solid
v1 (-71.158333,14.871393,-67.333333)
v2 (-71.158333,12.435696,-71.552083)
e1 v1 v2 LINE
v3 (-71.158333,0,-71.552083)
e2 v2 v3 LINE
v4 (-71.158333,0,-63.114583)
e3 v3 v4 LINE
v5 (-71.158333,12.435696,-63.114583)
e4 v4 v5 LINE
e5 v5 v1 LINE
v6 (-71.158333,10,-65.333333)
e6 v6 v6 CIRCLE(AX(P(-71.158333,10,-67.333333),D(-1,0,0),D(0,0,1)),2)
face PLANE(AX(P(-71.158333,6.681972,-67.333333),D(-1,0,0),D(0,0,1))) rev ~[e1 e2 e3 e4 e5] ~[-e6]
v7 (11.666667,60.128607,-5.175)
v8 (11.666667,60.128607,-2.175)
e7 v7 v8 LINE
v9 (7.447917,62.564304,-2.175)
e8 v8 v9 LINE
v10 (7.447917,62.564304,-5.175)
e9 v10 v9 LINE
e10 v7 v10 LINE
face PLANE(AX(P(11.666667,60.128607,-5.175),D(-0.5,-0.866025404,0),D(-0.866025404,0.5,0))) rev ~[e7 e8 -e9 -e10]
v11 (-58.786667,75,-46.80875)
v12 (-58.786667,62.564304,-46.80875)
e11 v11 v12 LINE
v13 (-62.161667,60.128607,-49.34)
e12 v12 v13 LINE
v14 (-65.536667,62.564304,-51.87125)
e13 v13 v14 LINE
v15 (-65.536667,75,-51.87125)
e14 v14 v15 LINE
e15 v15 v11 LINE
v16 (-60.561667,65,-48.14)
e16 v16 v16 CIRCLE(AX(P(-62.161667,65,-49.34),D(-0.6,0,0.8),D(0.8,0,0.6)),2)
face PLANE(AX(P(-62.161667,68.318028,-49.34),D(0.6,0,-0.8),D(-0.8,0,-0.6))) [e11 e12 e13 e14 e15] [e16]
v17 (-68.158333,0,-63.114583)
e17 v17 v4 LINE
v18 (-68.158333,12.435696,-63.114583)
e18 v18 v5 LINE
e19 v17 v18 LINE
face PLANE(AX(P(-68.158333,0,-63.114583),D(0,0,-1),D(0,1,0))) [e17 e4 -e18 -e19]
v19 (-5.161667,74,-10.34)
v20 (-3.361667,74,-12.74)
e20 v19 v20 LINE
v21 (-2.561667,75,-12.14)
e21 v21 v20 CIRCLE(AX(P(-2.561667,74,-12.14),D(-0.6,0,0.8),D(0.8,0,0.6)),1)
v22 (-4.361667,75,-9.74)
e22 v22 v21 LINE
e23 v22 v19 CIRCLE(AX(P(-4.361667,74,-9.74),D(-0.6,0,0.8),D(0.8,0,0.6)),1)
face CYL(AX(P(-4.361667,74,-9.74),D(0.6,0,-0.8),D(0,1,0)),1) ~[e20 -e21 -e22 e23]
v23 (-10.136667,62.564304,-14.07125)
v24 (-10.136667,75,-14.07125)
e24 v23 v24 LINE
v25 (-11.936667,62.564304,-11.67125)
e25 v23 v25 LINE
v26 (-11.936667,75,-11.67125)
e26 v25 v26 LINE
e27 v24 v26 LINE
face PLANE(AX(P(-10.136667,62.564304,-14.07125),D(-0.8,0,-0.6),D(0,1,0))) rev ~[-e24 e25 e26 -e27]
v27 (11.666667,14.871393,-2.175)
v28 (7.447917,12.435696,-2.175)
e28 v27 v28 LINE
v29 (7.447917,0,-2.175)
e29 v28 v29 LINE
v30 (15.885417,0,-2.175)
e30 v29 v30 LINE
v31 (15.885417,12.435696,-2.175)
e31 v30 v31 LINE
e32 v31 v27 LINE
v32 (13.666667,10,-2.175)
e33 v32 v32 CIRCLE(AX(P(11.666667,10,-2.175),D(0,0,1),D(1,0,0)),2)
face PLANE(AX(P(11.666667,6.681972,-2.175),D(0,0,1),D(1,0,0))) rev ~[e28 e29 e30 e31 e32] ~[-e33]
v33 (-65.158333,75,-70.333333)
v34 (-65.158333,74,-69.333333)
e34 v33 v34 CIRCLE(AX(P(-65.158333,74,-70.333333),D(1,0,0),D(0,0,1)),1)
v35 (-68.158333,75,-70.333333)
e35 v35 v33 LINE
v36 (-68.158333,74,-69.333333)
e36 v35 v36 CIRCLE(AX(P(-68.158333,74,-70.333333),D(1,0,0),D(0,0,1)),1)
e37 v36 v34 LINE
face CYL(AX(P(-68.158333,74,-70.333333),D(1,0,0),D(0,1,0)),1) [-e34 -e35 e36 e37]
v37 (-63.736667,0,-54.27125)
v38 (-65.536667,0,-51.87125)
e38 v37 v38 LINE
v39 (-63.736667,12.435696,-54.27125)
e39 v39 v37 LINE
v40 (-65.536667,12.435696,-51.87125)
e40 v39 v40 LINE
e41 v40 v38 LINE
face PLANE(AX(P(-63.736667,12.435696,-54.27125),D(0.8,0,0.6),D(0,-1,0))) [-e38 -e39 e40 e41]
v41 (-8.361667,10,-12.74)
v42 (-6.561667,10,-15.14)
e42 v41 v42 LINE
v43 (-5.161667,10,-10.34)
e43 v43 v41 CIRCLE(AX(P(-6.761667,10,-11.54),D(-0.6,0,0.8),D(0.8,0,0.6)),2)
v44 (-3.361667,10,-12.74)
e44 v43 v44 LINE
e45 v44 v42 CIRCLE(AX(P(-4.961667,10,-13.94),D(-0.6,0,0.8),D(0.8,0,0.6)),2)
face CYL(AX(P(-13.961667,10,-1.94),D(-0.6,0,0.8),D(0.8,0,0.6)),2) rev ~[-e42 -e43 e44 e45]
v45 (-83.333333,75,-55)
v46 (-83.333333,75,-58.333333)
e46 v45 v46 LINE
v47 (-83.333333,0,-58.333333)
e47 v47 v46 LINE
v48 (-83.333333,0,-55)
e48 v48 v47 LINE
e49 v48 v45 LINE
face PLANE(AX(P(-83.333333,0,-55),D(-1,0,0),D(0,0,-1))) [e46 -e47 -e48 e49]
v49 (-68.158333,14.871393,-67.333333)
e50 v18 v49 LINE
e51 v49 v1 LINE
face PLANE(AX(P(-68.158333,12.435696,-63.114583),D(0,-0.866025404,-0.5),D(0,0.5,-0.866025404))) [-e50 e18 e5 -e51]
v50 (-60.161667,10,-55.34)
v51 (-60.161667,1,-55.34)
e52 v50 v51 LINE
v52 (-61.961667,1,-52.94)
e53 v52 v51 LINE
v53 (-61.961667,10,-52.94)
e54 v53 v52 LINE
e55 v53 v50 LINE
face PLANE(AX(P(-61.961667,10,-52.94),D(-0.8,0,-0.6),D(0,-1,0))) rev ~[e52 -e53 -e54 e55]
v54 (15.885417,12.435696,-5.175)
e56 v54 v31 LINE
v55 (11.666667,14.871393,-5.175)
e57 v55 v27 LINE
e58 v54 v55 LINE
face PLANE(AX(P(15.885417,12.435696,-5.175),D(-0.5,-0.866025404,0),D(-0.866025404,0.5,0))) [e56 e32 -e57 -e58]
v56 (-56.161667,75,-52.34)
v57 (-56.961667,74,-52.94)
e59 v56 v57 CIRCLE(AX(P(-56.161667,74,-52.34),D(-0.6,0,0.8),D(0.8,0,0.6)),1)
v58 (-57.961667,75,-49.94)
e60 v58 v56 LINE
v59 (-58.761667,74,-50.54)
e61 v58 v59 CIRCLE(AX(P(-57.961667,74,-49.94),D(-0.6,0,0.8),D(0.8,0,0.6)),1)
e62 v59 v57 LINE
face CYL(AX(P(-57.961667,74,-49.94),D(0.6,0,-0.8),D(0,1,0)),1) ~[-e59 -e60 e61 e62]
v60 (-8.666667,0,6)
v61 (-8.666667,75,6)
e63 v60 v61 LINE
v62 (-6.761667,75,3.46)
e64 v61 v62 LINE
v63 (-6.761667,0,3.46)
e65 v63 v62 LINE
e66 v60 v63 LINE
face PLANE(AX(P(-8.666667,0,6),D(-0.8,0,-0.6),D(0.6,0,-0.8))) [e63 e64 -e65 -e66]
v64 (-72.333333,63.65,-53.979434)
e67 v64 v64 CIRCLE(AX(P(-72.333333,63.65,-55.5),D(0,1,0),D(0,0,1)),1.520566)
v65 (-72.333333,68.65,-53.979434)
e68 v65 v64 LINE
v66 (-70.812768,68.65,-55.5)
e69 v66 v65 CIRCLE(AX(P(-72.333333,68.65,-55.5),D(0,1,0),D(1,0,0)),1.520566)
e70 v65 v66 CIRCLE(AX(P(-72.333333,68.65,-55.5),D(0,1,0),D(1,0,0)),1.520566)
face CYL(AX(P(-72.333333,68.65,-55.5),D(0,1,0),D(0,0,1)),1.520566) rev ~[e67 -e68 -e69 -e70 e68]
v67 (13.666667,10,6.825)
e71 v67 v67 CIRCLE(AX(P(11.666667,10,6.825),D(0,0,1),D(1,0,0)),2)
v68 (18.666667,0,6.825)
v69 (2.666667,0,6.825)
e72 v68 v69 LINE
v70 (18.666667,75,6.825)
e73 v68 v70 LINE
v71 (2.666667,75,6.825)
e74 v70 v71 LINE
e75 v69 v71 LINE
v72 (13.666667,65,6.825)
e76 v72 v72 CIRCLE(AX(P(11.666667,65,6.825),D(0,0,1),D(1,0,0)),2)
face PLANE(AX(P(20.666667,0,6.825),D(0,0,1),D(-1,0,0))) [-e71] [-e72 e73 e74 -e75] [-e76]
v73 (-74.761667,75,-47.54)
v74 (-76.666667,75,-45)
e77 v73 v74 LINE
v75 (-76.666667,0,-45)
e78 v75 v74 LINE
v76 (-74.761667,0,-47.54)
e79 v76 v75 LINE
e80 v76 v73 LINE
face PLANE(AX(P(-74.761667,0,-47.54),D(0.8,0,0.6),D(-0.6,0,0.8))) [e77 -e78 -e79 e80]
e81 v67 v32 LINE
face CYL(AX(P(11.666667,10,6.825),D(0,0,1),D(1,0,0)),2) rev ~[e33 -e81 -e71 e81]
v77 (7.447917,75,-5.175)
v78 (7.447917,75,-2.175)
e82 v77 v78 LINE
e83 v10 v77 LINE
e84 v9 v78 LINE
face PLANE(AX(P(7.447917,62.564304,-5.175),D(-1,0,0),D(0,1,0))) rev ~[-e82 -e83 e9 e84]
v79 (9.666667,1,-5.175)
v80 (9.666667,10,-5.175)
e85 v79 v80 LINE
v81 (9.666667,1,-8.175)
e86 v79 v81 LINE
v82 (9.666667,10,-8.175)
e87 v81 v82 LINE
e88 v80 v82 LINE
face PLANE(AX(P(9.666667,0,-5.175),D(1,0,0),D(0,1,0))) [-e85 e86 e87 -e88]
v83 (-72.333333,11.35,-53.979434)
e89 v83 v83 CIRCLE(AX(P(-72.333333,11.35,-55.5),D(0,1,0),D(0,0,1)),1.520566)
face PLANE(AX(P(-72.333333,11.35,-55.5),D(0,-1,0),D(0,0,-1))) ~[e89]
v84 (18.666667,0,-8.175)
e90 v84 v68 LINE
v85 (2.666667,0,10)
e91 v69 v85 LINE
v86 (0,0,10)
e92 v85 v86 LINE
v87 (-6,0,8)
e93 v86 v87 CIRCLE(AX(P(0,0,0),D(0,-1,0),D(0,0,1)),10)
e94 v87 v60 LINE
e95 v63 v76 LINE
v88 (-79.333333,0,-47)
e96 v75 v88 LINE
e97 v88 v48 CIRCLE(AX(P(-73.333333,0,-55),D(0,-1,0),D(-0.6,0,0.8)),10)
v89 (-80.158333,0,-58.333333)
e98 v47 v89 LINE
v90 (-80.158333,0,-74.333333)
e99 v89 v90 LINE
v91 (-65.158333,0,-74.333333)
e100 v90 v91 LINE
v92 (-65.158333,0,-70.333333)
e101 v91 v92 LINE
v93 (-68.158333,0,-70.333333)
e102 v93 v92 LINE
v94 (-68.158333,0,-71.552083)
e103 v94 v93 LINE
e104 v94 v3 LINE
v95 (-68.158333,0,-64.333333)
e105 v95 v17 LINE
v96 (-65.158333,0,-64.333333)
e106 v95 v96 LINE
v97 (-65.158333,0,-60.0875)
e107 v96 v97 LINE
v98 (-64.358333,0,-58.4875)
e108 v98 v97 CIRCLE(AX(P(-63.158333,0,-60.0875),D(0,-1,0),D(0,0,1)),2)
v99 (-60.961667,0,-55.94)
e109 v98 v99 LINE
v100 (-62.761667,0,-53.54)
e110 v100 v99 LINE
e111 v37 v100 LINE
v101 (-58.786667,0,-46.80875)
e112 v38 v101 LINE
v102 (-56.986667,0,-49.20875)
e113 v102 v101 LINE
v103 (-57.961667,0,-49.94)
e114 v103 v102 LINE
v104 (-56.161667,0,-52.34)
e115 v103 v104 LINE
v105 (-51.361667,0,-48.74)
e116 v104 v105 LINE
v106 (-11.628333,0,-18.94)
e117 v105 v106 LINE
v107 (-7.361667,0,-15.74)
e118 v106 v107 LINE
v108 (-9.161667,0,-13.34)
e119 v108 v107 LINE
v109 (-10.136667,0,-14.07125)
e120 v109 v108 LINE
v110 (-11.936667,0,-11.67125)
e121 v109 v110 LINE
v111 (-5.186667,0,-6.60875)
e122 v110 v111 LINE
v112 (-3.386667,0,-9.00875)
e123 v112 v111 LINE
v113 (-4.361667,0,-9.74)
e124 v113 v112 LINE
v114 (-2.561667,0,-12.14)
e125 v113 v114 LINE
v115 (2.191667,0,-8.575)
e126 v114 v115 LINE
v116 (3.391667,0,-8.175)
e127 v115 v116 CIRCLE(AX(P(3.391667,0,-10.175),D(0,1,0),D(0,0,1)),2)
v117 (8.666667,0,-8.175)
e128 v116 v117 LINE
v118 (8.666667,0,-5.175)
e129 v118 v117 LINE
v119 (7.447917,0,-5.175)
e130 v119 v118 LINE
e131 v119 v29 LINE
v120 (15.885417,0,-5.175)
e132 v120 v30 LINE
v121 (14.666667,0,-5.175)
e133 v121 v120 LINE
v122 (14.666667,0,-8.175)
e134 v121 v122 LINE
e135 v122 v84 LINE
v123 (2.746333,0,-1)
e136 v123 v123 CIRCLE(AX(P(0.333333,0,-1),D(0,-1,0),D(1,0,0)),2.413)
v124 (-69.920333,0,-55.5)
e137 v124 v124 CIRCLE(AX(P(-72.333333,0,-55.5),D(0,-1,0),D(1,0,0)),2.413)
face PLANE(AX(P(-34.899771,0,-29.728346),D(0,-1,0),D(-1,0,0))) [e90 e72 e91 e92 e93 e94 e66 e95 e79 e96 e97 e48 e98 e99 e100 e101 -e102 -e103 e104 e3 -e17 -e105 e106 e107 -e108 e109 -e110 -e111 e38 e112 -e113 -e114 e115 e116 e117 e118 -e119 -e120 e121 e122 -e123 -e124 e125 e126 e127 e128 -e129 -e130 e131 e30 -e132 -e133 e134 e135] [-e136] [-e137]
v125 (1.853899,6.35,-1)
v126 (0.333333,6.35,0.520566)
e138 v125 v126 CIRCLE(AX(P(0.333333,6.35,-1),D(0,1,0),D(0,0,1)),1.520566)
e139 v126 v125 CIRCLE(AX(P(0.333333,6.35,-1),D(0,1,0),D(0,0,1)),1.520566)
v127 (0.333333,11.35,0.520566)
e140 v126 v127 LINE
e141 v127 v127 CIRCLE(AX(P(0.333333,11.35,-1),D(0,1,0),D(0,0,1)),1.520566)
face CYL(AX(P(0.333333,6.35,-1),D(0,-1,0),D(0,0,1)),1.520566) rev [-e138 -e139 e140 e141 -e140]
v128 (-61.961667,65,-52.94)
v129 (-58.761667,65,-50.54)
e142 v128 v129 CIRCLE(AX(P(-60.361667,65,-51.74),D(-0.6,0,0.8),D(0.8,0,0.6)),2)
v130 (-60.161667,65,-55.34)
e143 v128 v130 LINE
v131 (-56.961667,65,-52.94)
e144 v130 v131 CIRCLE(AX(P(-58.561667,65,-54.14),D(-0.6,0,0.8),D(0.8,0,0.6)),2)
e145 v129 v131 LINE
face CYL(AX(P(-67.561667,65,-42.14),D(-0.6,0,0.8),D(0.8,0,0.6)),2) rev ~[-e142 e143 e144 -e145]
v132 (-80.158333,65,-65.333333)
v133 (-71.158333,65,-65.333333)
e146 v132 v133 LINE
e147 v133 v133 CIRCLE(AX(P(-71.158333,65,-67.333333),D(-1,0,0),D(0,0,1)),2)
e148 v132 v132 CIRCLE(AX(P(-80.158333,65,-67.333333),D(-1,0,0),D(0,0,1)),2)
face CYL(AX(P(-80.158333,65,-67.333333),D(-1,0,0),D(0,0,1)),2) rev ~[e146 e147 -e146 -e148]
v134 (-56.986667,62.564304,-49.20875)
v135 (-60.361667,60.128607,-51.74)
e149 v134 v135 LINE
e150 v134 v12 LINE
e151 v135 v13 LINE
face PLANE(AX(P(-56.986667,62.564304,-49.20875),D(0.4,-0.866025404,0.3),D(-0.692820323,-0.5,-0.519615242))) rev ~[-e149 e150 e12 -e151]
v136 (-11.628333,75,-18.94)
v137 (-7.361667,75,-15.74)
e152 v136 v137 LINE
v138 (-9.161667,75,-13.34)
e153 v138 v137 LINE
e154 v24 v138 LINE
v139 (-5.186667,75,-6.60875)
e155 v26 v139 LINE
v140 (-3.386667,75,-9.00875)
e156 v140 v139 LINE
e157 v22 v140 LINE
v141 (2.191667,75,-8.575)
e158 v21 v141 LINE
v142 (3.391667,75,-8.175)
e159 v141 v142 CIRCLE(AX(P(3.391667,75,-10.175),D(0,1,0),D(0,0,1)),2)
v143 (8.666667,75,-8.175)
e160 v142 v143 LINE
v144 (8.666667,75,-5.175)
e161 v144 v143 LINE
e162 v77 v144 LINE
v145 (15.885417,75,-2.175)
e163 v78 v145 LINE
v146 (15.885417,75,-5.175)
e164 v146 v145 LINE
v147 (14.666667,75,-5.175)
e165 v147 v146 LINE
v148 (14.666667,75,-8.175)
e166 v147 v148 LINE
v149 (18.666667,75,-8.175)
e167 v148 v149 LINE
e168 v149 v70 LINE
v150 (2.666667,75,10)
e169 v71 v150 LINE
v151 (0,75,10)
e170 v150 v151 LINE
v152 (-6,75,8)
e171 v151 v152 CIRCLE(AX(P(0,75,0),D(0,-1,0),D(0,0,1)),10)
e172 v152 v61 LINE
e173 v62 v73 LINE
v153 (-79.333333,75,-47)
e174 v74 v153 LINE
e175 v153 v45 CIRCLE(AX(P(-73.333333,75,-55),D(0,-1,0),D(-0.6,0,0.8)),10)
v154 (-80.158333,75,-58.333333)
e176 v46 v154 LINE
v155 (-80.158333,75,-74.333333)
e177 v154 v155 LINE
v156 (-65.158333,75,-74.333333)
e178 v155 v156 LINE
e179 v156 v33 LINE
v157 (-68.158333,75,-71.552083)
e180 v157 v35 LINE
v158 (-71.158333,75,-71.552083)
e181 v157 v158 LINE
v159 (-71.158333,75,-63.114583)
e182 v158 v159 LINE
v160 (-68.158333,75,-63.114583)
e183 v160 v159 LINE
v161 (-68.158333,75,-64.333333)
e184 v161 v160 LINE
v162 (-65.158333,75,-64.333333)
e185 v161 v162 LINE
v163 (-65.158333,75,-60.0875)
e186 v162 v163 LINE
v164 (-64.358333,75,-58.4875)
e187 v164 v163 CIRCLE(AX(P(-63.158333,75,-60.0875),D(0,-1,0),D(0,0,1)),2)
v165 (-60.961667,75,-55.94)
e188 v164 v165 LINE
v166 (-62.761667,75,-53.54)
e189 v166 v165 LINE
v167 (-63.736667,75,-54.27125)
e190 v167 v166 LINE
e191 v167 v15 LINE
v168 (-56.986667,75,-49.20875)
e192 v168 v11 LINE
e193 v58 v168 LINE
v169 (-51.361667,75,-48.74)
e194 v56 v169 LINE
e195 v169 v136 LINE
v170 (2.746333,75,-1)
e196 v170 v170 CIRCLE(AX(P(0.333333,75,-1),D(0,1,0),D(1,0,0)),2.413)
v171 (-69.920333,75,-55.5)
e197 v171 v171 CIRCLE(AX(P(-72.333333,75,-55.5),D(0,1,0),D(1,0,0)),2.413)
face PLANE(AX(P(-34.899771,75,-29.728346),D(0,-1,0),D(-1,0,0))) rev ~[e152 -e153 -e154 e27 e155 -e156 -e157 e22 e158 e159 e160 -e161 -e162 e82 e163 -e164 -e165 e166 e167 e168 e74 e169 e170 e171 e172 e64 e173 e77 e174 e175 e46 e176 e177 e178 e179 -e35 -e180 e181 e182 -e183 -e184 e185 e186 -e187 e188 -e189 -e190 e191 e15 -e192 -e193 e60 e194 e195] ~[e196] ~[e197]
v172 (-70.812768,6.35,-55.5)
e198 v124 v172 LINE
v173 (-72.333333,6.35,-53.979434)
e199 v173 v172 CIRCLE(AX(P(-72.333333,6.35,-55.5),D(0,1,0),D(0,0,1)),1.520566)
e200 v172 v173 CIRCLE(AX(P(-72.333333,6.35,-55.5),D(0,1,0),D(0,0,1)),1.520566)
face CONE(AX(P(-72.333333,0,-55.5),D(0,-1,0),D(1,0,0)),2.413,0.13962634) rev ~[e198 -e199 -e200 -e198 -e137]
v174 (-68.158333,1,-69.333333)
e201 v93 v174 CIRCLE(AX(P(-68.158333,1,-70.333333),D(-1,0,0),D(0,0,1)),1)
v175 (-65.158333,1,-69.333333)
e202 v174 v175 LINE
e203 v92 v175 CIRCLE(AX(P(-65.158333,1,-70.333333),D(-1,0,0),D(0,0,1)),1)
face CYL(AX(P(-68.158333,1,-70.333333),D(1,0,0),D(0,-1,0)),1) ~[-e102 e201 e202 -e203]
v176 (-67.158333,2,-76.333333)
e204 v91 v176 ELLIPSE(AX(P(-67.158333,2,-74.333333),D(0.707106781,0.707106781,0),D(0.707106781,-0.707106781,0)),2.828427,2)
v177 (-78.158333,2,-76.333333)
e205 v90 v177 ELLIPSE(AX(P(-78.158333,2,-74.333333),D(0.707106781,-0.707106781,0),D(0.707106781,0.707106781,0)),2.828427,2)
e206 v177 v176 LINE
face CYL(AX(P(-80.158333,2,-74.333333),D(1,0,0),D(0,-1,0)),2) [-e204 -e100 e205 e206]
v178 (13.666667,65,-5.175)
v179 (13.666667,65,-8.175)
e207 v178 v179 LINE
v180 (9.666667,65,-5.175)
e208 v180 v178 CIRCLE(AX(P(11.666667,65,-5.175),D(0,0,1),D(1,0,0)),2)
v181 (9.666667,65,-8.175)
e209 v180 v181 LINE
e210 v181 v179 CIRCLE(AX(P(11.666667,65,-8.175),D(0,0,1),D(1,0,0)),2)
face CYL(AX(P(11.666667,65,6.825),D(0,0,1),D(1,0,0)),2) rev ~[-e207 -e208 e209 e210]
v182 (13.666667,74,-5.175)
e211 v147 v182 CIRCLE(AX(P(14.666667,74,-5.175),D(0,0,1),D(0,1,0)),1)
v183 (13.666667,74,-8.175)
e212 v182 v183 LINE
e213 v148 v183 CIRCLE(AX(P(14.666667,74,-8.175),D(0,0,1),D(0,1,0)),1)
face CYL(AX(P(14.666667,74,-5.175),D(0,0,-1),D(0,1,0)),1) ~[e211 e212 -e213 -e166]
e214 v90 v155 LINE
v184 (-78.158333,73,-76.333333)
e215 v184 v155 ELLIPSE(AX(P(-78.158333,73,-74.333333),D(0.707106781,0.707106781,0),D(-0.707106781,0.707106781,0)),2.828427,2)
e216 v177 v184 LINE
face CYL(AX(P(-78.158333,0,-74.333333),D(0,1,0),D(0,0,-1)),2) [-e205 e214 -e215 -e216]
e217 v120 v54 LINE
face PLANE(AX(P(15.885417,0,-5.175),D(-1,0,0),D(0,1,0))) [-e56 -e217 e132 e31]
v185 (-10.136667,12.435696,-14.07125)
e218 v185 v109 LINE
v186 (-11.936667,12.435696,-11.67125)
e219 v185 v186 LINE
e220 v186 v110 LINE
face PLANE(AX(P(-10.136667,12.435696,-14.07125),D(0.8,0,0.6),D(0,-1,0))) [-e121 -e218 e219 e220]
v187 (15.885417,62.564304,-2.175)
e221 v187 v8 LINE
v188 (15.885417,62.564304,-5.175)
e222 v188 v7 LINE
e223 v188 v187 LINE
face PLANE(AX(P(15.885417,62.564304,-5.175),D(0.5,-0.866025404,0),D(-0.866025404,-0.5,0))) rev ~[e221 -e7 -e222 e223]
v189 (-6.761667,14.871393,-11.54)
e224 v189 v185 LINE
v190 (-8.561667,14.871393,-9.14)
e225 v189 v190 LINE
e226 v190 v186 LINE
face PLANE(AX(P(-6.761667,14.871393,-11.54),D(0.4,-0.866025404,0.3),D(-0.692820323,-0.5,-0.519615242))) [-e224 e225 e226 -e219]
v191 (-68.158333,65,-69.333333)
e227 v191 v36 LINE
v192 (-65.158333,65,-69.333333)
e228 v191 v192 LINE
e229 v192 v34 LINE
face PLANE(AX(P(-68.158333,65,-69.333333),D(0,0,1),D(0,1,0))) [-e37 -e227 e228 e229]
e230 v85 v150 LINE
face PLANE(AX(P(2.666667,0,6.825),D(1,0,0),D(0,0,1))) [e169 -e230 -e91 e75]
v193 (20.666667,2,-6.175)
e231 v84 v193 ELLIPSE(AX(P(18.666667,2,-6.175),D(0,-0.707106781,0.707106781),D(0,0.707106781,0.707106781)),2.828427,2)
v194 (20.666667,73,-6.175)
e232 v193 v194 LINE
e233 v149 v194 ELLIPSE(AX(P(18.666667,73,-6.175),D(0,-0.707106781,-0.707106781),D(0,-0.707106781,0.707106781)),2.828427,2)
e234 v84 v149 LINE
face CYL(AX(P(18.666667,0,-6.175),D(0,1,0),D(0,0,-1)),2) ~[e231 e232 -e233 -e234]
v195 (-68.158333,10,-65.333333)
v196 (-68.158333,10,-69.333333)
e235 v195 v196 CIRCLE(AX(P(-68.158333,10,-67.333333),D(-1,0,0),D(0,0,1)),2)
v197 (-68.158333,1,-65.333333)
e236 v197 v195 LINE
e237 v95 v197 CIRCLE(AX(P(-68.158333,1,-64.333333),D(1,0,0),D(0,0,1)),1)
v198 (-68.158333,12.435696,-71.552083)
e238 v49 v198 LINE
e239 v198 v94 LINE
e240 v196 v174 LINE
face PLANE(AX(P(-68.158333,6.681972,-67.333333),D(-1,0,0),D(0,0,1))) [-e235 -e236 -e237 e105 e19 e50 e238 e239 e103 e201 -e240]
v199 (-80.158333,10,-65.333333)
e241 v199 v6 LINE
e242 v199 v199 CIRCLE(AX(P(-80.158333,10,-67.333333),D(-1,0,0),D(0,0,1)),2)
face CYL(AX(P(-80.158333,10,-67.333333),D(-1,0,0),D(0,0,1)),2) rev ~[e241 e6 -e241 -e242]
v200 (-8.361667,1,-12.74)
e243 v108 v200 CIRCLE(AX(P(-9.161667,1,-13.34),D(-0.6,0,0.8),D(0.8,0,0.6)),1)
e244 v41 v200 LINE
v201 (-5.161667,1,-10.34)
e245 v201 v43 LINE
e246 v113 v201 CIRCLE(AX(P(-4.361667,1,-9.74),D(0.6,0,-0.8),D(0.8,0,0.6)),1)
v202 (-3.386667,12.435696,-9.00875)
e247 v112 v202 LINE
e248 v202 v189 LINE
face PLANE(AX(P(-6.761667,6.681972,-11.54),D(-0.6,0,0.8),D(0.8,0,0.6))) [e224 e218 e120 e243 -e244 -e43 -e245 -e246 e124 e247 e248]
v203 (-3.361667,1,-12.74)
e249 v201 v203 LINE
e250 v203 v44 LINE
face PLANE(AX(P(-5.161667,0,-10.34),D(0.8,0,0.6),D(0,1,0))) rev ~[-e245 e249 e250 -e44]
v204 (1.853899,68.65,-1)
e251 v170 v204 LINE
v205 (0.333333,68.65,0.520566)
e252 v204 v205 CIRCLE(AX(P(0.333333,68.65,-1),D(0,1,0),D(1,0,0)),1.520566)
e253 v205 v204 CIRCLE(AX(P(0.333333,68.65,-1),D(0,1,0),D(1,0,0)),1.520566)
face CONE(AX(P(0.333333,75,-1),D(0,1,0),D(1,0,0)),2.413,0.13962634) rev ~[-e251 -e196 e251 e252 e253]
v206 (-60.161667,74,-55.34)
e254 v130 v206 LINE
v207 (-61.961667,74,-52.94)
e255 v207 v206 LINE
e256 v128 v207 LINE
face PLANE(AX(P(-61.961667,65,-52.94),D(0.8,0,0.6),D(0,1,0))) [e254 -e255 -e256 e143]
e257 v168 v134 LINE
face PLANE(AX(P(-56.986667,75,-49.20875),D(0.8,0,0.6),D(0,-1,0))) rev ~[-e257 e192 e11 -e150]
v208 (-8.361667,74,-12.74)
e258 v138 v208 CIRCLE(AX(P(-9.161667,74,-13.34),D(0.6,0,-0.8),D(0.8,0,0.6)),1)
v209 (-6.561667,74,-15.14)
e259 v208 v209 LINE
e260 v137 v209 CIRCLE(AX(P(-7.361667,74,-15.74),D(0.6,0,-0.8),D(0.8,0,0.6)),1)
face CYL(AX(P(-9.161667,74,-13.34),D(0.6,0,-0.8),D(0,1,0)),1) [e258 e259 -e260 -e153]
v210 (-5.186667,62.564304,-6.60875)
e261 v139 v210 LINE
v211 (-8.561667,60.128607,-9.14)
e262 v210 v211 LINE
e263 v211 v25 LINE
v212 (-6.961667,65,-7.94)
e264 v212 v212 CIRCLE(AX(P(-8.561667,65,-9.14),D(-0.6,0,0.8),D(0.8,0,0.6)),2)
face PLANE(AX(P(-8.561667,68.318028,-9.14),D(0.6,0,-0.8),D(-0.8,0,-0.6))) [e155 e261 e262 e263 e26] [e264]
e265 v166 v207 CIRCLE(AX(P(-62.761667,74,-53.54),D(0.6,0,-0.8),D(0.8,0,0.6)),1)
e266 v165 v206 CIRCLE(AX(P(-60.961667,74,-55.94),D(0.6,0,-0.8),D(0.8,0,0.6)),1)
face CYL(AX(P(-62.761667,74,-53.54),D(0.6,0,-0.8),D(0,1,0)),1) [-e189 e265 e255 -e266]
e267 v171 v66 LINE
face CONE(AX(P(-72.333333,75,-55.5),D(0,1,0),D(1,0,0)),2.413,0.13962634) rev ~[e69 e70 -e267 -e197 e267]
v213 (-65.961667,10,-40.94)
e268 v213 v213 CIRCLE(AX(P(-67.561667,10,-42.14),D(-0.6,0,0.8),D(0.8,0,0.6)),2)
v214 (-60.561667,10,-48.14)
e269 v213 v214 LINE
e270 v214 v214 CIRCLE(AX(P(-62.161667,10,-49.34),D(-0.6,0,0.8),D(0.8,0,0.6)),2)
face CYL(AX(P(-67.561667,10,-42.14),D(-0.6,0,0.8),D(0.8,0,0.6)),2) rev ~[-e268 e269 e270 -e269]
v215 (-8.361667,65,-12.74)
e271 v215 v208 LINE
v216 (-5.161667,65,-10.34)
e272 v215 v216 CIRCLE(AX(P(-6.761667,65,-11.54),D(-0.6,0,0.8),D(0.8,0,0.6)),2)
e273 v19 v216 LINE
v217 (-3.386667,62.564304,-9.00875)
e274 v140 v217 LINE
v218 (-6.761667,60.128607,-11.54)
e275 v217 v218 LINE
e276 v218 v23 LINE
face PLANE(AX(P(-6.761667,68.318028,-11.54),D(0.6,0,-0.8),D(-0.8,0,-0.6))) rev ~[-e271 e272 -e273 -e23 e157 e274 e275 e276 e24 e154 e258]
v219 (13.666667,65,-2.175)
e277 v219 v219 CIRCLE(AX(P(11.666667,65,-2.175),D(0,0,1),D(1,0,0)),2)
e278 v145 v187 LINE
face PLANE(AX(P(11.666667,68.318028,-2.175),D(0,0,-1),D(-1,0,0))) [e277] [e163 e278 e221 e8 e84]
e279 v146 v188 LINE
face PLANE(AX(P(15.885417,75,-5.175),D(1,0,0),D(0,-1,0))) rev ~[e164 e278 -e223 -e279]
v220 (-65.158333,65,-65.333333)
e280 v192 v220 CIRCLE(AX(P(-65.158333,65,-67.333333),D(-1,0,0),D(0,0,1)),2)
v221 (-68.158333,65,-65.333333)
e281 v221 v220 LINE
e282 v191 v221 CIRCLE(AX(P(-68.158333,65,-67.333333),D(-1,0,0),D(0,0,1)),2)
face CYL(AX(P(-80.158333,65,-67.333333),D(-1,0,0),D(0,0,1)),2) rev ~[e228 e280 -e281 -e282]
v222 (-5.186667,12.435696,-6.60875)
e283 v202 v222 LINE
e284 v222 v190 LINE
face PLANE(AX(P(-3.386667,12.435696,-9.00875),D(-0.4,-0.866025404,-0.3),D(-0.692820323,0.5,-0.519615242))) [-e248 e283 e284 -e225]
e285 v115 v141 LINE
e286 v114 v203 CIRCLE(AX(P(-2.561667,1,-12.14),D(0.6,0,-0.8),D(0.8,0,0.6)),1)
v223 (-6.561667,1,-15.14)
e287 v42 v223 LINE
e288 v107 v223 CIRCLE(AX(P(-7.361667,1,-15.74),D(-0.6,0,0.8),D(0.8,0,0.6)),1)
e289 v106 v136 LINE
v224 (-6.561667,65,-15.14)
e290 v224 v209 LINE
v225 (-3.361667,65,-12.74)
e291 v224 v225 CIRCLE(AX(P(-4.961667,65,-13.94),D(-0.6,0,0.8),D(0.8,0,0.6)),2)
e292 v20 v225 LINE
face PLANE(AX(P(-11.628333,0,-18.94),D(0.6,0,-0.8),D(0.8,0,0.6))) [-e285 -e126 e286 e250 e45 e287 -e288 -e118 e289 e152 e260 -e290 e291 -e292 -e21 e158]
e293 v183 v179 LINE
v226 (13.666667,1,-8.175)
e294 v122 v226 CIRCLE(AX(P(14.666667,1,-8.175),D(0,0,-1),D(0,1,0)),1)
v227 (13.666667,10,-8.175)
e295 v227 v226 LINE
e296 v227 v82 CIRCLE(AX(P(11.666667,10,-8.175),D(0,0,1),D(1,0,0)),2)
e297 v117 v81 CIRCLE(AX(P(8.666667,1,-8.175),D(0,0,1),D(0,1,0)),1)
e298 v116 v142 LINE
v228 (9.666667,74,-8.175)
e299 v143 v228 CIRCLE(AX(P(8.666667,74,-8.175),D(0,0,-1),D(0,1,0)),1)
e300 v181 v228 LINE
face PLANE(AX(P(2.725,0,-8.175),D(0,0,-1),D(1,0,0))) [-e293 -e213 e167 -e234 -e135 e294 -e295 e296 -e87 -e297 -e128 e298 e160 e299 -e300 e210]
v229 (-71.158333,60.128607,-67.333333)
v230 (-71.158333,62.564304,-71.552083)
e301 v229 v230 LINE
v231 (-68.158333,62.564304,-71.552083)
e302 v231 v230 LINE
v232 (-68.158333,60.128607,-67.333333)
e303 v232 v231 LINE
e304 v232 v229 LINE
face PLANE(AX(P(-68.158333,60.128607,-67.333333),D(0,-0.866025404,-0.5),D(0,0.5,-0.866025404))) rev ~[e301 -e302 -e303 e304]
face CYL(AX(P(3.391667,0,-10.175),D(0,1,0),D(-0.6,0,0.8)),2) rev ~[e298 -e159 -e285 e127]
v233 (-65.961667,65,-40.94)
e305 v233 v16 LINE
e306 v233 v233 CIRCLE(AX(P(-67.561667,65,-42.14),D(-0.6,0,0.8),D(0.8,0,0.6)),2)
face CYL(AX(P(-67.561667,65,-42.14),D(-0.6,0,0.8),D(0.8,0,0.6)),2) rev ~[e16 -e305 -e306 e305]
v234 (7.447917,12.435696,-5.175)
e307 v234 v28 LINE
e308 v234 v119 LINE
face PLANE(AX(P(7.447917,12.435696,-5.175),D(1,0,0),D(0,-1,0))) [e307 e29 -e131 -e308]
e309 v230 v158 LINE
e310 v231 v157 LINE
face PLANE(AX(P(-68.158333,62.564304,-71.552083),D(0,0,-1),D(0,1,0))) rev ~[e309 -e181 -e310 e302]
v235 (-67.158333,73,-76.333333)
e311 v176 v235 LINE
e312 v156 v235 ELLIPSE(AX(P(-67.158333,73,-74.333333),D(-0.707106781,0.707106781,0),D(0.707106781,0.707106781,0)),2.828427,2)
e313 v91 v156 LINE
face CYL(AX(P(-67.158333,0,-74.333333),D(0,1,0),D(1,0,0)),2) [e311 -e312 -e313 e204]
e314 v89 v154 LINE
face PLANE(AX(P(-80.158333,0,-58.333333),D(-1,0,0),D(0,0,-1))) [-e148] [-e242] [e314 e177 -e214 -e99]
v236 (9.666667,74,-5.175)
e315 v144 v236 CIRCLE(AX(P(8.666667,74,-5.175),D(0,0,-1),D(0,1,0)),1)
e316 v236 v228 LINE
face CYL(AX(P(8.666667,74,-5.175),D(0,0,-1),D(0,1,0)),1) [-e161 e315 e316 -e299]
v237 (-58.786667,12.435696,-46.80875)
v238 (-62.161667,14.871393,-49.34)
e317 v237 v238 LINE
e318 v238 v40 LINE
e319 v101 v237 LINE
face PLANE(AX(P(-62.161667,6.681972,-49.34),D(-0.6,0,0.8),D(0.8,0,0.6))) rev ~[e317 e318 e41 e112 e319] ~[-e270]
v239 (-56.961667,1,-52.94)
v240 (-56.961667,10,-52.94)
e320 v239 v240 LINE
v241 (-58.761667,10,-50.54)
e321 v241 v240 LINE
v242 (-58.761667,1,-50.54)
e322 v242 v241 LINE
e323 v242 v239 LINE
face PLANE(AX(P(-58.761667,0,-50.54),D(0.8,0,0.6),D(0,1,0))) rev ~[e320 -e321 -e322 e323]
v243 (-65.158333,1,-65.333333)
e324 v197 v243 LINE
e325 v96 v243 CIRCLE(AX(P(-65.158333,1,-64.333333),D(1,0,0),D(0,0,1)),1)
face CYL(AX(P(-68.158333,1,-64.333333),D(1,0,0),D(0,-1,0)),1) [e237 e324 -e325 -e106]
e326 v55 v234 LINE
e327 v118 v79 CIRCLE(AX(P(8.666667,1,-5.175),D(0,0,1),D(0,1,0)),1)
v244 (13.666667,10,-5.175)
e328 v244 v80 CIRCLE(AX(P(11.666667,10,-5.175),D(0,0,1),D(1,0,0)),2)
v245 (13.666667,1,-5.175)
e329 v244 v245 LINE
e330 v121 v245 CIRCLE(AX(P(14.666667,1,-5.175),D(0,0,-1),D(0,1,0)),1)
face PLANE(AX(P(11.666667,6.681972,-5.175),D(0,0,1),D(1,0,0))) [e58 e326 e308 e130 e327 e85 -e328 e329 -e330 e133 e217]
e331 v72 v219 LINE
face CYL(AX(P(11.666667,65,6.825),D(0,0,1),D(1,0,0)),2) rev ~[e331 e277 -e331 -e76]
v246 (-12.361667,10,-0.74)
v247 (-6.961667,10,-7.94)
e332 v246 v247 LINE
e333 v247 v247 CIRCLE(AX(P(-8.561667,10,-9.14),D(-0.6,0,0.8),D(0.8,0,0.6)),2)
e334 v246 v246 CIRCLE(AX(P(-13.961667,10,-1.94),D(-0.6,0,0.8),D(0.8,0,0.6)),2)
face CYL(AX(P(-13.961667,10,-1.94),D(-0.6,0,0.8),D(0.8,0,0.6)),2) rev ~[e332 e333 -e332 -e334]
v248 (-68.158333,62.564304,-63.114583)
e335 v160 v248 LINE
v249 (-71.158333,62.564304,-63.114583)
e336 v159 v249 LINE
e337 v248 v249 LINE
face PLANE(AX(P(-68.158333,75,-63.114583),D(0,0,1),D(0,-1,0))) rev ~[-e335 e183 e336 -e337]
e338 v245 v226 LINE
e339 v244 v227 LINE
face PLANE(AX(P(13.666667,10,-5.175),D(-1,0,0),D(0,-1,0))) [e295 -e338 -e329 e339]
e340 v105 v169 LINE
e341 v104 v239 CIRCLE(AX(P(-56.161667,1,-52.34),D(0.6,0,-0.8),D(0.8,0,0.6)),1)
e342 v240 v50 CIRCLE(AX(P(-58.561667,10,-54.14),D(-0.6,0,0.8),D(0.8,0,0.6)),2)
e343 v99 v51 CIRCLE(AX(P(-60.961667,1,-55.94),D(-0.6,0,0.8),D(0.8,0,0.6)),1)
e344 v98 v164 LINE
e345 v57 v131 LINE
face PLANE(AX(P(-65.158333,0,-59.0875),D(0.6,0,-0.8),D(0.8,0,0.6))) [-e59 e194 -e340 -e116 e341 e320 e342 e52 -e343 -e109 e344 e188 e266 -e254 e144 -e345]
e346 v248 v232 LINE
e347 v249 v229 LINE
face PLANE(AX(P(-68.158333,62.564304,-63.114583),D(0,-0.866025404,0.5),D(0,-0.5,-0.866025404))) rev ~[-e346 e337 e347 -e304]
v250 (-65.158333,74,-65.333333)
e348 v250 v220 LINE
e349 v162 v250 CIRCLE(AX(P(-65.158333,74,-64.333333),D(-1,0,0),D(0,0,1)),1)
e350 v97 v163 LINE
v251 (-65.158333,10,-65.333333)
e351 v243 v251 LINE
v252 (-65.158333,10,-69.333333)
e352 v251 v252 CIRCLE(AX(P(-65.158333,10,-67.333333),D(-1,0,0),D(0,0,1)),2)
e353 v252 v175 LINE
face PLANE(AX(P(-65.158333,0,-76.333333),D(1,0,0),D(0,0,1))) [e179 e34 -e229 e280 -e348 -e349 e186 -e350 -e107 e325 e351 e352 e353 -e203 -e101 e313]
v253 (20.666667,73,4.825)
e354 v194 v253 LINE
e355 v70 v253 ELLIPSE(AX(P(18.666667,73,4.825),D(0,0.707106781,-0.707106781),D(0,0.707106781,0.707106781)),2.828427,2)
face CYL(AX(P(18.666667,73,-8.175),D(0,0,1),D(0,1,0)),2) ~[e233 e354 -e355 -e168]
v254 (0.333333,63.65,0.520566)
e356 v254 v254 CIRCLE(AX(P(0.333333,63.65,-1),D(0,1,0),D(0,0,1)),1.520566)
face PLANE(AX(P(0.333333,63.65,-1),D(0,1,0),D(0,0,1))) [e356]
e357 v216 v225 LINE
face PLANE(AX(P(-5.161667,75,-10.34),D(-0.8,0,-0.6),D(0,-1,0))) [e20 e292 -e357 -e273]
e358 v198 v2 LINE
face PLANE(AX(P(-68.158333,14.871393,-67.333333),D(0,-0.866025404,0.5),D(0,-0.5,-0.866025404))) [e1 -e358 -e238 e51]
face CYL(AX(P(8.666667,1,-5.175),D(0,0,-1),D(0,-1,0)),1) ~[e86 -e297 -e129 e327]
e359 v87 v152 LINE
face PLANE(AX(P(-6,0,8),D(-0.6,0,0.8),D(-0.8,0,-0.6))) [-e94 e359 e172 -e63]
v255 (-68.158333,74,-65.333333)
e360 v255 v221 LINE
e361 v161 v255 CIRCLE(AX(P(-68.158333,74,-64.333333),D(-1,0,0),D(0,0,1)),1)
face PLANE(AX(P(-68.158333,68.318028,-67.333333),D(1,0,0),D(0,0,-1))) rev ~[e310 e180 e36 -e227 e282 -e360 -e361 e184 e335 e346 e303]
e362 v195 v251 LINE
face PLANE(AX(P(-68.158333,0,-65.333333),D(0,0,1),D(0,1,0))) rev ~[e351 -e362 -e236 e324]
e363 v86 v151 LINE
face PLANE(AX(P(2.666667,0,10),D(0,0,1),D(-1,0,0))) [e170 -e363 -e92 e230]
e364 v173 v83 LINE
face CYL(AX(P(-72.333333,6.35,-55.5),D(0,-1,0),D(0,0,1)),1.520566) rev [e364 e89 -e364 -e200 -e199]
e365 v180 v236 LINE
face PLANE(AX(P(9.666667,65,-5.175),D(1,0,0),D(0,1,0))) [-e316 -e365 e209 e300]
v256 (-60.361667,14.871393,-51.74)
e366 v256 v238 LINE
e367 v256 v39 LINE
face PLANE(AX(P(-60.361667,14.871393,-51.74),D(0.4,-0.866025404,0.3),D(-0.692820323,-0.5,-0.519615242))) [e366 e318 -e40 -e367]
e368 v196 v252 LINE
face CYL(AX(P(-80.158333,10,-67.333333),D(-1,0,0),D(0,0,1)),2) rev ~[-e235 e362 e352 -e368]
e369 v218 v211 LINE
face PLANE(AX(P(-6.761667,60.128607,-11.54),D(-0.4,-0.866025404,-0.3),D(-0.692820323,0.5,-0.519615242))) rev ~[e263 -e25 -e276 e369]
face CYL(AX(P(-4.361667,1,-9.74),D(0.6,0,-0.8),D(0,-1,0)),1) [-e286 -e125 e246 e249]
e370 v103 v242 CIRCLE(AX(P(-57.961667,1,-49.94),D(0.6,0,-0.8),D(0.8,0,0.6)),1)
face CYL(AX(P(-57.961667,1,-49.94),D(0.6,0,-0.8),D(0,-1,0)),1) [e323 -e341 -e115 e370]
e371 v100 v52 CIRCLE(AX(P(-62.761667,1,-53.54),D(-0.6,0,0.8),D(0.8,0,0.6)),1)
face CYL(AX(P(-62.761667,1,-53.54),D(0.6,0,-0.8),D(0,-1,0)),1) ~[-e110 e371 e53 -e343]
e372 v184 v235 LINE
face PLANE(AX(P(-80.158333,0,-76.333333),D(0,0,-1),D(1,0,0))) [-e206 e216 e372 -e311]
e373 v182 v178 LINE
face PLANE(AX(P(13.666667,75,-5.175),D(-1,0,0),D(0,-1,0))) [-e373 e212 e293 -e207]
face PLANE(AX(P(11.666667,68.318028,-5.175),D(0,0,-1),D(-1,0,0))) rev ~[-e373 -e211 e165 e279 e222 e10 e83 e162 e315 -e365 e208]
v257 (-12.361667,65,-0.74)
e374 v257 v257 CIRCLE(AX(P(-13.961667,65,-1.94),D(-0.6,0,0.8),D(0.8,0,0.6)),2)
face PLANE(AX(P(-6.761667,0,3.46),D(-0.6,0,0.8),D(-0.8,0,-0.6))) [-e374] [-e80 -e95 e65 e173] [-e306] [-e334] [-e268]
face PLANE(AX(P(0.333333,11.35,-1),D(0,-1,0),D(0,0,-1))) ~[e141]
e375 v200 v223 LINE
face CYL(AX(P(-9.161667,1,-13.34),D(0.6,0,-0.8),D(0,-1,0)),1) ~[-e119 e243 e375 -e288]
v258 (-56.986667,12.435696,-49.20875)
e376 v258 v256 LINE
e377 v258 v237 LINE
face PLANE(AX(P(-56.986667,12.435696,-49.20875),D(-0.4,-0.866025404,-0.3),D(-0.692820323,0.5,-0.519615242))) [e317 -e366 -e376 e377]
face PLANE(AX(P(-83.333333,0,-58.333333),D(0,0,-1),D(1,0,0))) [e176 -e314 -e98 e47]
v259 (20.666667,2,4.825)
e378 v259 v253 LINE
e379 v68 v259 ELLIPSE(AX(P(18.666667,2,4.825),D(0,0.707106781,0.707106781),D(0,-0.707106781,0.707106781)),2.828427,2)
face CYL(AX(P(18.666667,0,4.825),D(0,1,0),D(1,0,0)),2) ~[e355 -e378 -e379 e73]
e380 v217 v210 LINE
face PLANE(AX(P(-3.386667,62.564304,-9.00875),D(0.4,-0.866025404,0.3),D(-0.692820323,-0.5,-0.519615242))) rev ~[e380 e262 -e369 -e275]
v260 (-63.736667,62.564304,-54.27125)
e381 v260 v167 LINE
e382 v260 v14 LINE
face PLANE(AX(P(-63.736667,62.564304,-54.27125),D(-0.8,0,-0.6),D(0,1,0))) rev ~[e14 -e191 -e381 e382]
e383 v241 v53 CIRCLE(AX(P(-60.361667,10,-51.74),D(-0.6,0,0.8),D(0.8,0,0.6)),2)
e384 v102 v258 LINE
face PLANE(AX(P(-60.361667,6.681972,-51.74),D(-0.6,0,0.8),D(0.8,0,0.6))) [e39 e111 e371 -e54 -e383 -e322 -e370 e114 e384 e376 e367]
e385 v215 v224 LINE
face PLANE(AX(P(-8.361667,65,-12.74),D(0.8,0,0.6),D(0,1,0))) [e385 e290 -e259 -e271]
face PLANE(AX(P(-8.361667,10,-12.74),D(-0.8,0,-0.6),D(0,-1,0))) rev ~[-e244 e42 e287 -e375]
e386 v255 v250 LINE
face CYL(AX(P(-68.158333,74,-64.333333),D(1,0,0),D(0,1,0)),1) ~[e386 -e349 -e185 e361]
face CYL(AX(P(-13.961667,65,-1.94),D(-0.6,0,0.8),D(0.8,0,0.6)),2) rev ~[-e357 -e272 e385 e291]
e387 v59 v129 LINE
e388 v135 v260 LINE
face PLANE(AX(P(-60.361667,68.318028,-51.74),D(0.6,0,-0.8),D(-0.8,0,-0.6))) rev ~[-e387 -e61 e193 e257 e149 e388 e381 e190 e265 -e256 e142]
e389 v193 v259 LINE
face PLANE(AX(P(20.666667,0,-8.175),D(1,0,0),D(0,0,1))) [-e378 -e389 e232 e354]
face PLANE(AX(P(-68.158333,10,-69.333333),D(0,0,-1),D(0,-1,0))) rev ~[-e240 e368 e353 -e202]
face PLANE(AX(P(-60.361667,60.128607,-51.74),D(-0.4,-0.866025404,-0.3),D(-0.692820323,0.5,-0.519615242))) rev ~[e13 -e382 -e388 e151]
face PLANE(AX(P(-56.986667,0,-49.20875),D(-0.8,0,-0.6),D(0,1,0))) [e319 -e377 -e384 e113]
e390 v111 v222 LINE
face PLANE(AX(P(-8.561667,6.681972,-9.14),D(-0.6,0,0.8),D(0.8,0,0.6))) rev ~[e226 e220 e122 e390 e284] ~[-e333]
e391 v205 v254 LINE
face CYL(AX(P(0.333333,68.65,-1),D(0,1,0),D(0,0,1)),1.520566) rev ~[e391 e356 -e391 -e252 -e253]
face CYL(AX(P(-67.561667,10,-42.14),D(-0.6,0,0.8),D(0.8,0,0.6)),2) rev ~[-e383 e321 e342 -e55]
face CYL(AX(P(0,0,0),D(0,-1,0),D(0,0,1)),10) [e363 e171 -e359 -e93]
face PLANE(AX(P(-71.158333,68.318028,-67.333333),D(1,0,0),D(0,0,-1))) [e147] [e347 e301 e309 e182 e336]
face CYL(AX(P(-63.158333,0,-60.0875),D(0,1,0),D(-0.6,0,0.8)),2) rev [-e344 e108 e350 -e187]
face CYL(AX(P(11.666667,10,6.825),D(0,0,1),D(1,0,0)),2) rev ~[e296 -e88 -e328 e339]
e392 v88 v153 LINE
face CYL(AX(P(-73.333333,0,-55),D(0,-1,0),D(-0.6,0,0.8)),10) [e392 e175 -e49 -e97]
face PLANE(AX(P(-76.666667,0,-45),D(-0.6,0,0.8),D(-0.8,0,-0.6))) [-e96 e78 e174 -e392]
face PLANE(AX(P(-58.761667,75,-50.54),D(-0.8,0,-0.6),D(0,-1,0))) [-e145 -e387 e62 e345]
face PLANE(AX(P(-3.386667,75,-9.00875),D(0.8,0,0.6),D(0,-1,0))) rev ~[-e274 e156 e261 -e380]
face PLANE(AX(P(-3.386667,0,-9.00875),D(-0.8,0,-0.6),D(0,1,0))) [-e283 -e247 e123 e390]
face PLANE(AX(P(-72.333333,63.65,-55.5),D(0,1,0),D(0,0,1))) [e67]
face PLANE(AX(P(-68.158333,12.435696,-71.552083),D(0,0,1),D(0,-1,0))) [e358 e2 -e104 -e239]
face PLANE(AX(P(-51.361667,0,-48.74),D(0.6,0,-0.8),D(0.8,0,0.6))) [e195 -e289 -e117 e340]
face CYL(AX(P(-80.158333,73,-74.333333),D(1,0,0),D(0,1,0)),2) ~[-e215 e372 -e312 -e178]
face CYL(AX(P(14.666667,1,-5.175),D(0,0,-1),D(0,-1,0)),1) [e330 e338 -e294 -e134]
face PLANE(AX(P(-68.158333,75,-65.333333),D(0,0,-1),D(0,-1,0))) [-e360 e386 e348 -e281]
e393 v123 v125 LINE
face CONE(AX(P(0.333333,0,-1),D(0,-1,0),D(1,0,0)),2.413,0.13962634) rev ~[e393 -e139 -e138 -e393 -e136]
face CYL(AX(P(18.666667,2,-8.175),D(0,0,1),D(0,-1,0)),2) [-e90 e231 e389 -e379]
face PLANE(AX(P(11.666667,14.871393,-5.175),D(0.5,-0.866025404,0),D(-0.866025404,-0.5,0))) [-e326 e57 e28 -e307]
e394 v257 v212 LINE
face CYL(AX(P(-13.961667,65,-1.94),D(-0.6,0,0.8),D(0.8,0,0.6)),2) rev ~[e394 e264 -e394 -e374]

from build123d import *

# Parameters (mm, degrees)
BOSS_EXTRUDE1_DEPTH          = 75
SKETCH2_R                    = 2
CUT_EXTRUDE1_DEPTH           = 15
SKETCH3_R                    = 2
CUT_EXTRUDE2_DEPTH           = 15
SKETCH4_R                    = 2
CUT_EXTRUDE3_DEPTH           = 15
CUT_EXTRUDE5_START           = -3
CUT_EXTRUDE5_DEPTH           = 3
CUT_EXTRUDE6_START           = -3
CUT_EXTRUDE6_DEPTH           = 3
CUT_EXTRUDE7_START           = -3
CUT_EXTRUDE7_DEPTH           = 3
CUT_EXTRUDE8_START           = -3
CUT_EXTRUDE8_DEPTH           = 3
CUT_EXTRUDE9_START           = -3
CUT_EXTRUDE9_DEPTH           = 3
SKETCH5_R                    = 2.413
CUT_EXTRUDE4_DEPTH           = 6.35
CUT_EXTRUDE4_DRAFT           = -8
CUT_EXTRUDE4_PROFILE_2_DEPTH = 6.35
CUT_EXTRUDE4_PROFILE_2_DRAFT = -8
CUT_EXTRUDE10_START          = -3
CUT_EXTRUDE10_DEPTH          = 3
SKETCH14_R                   = 1.5205657
CUT_EXTRUDE12_DEPTH          = 5
MIRROR1_COPY_1_SKETCH_R      = 2.413
MIRROR1_COPY_1_DEPTH         = 6.35
MIRROR1_COPY_1_DRAFT         = -8
MIRROR1_COPY_2_SKETCH_R      = 2.413
MIRROR1_COPY_2_DEPTH         = 6.35
MIRROR1_COPY_2_DRAFT         = -8
MIRROR1_COPY_3_SKETCH_R      = 2.413
MIRROR1_COPY_3_DEPTH         = 6.35
MIRROR1_COPY_3_DRAFT         = -8
FILLET1_R                    = 1
FILLET2_R                    = 2


with BuildPart() as part:
    # Sketch1 → Boss-Extrude1 (new body)
    with BuildSketch(Plane(origin=(0, 0, 0), x_dir=(1, 0, 0), z_dir=(0, 1, 0))):
        with BuildLine():
            Line((-11.628333333, 18.94), (2.725, 8.175))
            Line((2.725, 8.175), (20.666666667, 8.175))
            Line((20.666666667, 8.175), (20.666666667, -6.825))
            Line((20.666666667, -6.825), (2.666666667, -6.825))
            Line((2.666666667, -6.825), (2.666666667, -10))
            Line((2.666666667, -10), (0, -10))
            ThreePointArc((0, -10), (-3.16227766, -9.486832981), (-6, -8))
            Line((-6, -8), (-8.666666667, -6))
            Line((-8.666666667, -6), (-6.761666667, -3.46))
            Line((-6.761666667, -3.46), (-74.761666667, 47.54))
            Line((-74.761666667, 47.54), (-76.666666667, 45))
            Line((-76.666666667, 45), (-79.333333333, 47))
            ThreePointArc((-79.333333333, 47), (-82.277605243, 50.527864045), (-83.333333333, 55))
            Line((-83.333333333, 55), (-83.333333333, 58.333333333))
            Line((-83.333333333, 58.333333333), (-80.158333333, 58.333333333))
            Line((-80.158333333, 58.333333333), (-80.158333333, 76.333333333))
            Line((-80.158333333, 76.333333333), (-65.158333333, 76.333333333))
            Line((-65.158333333, 76.333333333), (-65.158333333, 59.0875))
            Line((-65.158333333, 59.0875), (-51.361666667, 48.74))
            Line((-51.361666667, 48.74), (-11.628333333, 18.94))
        make_face()
    extrude(amount=BOSS_EXTRUDE1_DEPTH)

    # Sketch2 → Cut-Extrude1 (cut)
    with BuildSketch(Plane.XY.offset(6.825)):
        with Locations((11.666666667, 10)):
            Circle(SKETCH2_R)
        with Locations((11.666666667, 65)):
            Circle(SKETCH2_R)
    extrude(amount=-CUT_EXTRUDE1_DEPTH, mode=Mode.SUBTRACT)

    # Sketch3 → Cut-Extrude2 (cut)
    with BuildSketch(Plane(origin=(-4.095, 0, 5.46), x_dir=(0.8000000000000002, 0, 0.5999999999999999), z_dir=(-0.5999999999999999, 0, 0.8000000000000003))):
        with Locations((-12.333333333, 10)):
            Circle(SKETCH3_R)
        with Locations((-12.333333333, 65)):
            Circle(SKETCH3_R)
        with Locations((-79.333333333, 10)):
            Circle(SKETCH3_R)
        with Locations((-79.333333333, 65)):
            Circle(SKETCH3_R)
    extrude(amount=-CUT_EXTRUDE2_DEPTH, mode=Mode.SUBTRACT)

    # Sketch4 → Cut-Extrude3 (cut)
    with BuildSketch(Plane.ZY.offset(80.158333333)):
        with Locations((-67.333333333, 10)):
            Circle(SKETCH4_R)
        with Locations((-67.333333333, 65)):
            Circle(SKETCH4_R)
    extrude(amount=-CUT_EXTRUDE3_DEPTH, mode=Mode.SUBTRACT)

    # Sketch6 → Cut-Extrude5 (cut)
    with BuildSketch(Plane(origin=(4.905, 0, -6.54), x_dir=(-0.8000000000000002, 0, -0.6), z_dir=(0.6, 0, -0.8000000000000002)).offset(CUT_EXTRUDE5_START)):
        Polygon((8.114583333, 62.564303552), (12.333333333, 60.128607104), (16.552083333, 62.564303552), (16.552083333, 75), (8.114583333, 75), align=None)
        Polygon((75.114583333, 62.564303552), (79.333333333, 60.128607104), (83.552083333, 62.564303552), (83.552083333, 75), (75.114583333, 75), align=None)
        Polygon((8.114583333, 12.435696448), (12.333333333, 14.871392896), (16.552083333, 12.435696448), (16.552083333, 0), (8.114583333, 0), align=None)
        Polygon((75.114583333, 12.435696448), (79.333333333, 14.871392896), (83.552083333, 12.435696448), (83.552083333, 0), (75.114583333, 0), align=None)
    extrude(amount=-CUT_EXTRUDE5_DEPTH, mode=Mode.SUBTRACT)

    # Sketch7 → Cut-Extrude6 (cut)
    with BuildSketch(Plane(origin=(4.905, 0, -6.54), x_dir=(-0.8000000000000002, 0, -0.6), z_dir=(0.6, 0, -0.8000000000000002)).offset(CUT_EXTRUDE6_START)):
        with BuildLine():
            Line((14.333333333, 65), (14.333333333, 75))
            Line((14.333333333, 75), (10.333333333, 75))
            Line((10.333333333, 75), (10.333333333, 65))
            ThreePointArc((10.333333333, 65), (12.333333333, 67), (14.333333333, 65))
        make_face()
        with BuildLine():
            Line((81.333333333, 65), (81.333333333, 75))
            Line((81.333333333, 75), (77.333333333, 75))
            Line((77.333333333, 75), (77.333333333, 65))
            ThreePointArc((77.333333333, 65), (79.333333333, 67), (81.333333333, 65))
        make_face()
        with BuildLine():
            Line((81.333333333, 0), (77.333333333, 0))
            Line((77.333333333, 0), (77.333333333, 10))
            ThreePointArc((77.333333333, 10), (79.333333333, 8), (81.333333333, 10))
            Line((81.333333333, 10), (81.333333333, 0))
        make_face()
        with BuildLine():
            Line((14.333333333, 0), (10.333333333, 0))
            Line((10.333333333, 0), (10.333333333, 10))
            ThreePointArc((10.333333333, 10), (12.333333333, 8), (14.333333333, 10))
            Line((14.333333333, 10), (14.333333333, 0))
        make_face()
    extrude(amount=CUT_EXTRUDE6_DEPTH, mode=Mode.SUBTRACT)

    # Sketch8 → Cut-Extrude7 (cut)
    with BuildSketch(Plane(origin=(0, 0, -8.175), x_dir=(-1, 0, 0), z_dir=(0, 0, -1)).offset(CUT_EXTRUDE7_START)):
        Polygon((-15.885416667, 0), (-15.885416667, 12.435696448), (-11.666666667, 14.871392896), (-7.447916667, 12.435696448), (-7.447916667, 0), align=None)
        Polygon((-15.885416667, 62.564303552), (-11.666666667, 60.128607104), (-7.447916667, 62.564303552), (-7.447916667, 75), (-15.885416667, 75), align=None)
    extrude(amount=-CUT_EXTRUDE7_DEPTH, mode=Mode.SUBTRACT)

    # Sketch9 → Cut-Extrude8 (cut)
    with BuildSketch(Plane(origin=(0, 0, -8.175), x_dir=(-1, 0, 0), z_dir=(0, 0, -1)).offset(CUT_EXTRUDE8_START)):
        with BuildLine():
            Line((-9.666666667, 65), (-9.666666667, 75))
            Line((-9.666666667, 75), (-13.666666667, 75))
            Line((-13.666666667, 75), (-13.666666667, 65))
            ThreePointArc((-13.666666667, 65), (-11.666666667, 67), (-9.666666667, 65))
        make_face()
        with BuildLine():
            Line((-13.666666667, 10), (-13.666666667, 0))
            Line((-13.666666667, 0), (-9.666666667, 0))
            Line((-9.666666667, 0), (-9.666666667, 10))
            ThreePointArc((-9.666666667, 10), (-11.666666667, 8), (-13.666666667, 10))
        make_face()
    extrude(amount=CUT_EXTRUDE8_DEPTH, mode=Mode.SUBTRACT)

    # Sketch10 → Cut-Extrude9 (cut)
    with BuildSketch(Plane(origin=(-65.158333333, 0, 0), x_dir=(0, 0, -1), z_dir=(1, 0, 0)).offset(CUT_EXTRUDE9_START)):
        Polygon((63.114583333, 62.564303552), (67.333333333, 60.128607104), (71.552083333, 62.564303552), (71.552083333, 75), (63.114583333, 75), align=None)
        Polygon((63.114583333, 12.435696448), (67.333333333, 14.871392896), (71.552083333, 12.435696448), (71.552083333, 0), (63.114583333, 0), align=None)
    extrude(amount=-CUT_EXTRUDE9_DEPTH, mode=Mode.SUBTRACT)


with BuildPart() as cut_extrude4_tool:
    # Sketch5 → Cut-Extrude4 (with draft: the straight prism first)
    with BuildSketch(Plane(origin=(0, 75, 0), x_dir=(1, 0, 0), z_dir=(0, 1, 0))):
        with Locations((0.333333333, 1)):
            Circle(SKETCH5_R)
    extrude(amount=-CUT_EXTRUDE4_DEPTH)
    # Cut-Extrude4: the draft: its side faces are tilted about the plane it starts from
    cut_extrude4_sides = [cut_extrude4_tool.faces().sort_by_distance(p)[0] for p in [
        (-2.079666667, 71.825, -1),
    ]]
    draft(cut_extrude4_sides, Plane(origin=(0, 75, 0), x_dir=(1, 0, 0), z_dir=(0, 1, 0)), CUT_EXTRUDE4_DRAFT)


with BuildPart() as part_1:
    add(part.part)

    # Cut-Extrude4: cut by cut_extrude4_tool
    add(cut_extrude4_tool.part, mode=Mode.SUBTRACT)


with BuildPart() as cut_extrude4_profile_2_tool:
    # Sketch5 → Cut-Extrude4 profile 2 (with draft: the straight prism first)
    with BuildSketch(Plane(origin=(0, 75, 0), x_dir=(1, 0, 0), z_dir=(0, 1, 0))):
        with Locations((-72.333333333, 55.5)):
            Circle(SKETCH5_R)
    extrude(amount=-CUT_EXTRUDE4_PROFILE_2_DEPTH)
    # Cut-Extrude4 profile 2: the draft: its side faces are tilted about the plane it starts from
    cut_extrude4_profile_2_sides = [cut_extrude4_profile_2_tool.faces().sort_by_distance(p)[0] for p in [
        (-74.746333333, 71.825, -55.5),
    ]]
    draft(cut_extrude4_profile_2_sides, Plane(origin=(0, 75, 0), x_dir=(1, 0, 0), z_dir=(0, 1, 0)), CUT_EXTRUDE4_PROFILE_2_DRAFT)


with BuildPart() as part_2:
    add(part_1.part)

    # Cut-Extrude4 profile 2: cut by cut_extrude4_profile_2_tool
    add(cut_extrude4_profile_2_tool.part, mode=Mode.SUBTRACT)

    # Sketch11 → Cut-Extrude10 (cut)
    with BuildSketch(Plane(origin=(-65.158333333, 0, 0), x_dir=(0, 0, -1), z_dir=(1, 0, 0)).offset(CUT_EXTRUDE10_START)):
        with BuildLine():
            Line((69.333333333, 65), (69.333333333, 75))
            Line((69.333333333, 75), (65.333333333, 75))
            Line((65.333333333, 75), (65.333333333, 65))
            ThreePointArc((65.333333333, 65), (67.333333333, 67), (69.333333333, 65))
        make_face()
        with BuildLine():
            Line((69.333333333, 10), (69.333333333, 0))
            Line((69.333333333, 0), (65.333333333, 0))
            Line((65.333333333, 0), (65.333333333, 10))
            ThreePointArc((65.333333333, 10), (67.333333333, 8), (69.333333333, 10))
        make_face()
    extrude(amount=CUT_EXTRUDE10_DEPTH, mode=Mode.SUBTRACT)

    # Sketch14 → Cut-Extrude12 (cut)
    with BuildSketch(Plane(origin=(0, 68.65, 0), x_dir=(1, 0, 0), z_dir=(0, 1, 0))):
        with Locations(Location((-72.333333333, 55.5, 0), (0, 0, 270))):
            Circle(SKETCH14_R)
        with Locations(Location((0.333333333, 1, 0), (0, 0, 270))):
            Circle(SKETCH14_R)
    cut_extrude12 = extrude(amount=-CUT_EXTRUDE12_DEPTH, mode=Mode.SUBTRACT)

    # Mirror1: Cut-Extrude12 across plane
    add(cut_extrude12.mirror(Plane.ZX.offset(37.5)), mode=Mode.SUBTRACT)


with BuildPart() as mirror1_copy_1_tool:
    # Mirror1 copy 1 sketch → Mirror1 copy 1 (with draft: the straight prism first)
    with BuildSketch(Plane.XZ):
        with Locations((0.333333333, -1)):
            Circle(MIRROR1_COPY_1_SKETCH_R)
    extrude(amount=-MIRROR1_COPY_1_DEPTH)
    # Mirror1 copy 1: the draft: its side faces are tilted about the plane it starts from
    mirror1_copy_1_sides = [mirror1_copy_1_tool.faces().sort_by_distance(p)[0] for p in [
        (-2.079666667, 3.175, -1),
    ]]
    draft(mirror1_copy_1_sides, Plane.XZ, MIRROR1_COPY_1_DRAFT)


with BuildPart() as part_3:
    add(part_2.part)

    # Mirror1 copy 1: cut by mirror1_copy_1_tool
    add(mirror1_copy_1_tool.part, mode=Mode.SUBTRACT)


with BuildPart() as mirror1_copy_2_tool:
    # Mirror1 copy 2 sketch → Mirror1 copy 2 (with draft: the straight prism first)
    with BuildSketch(Plane.XZ):
        with Locations((-72.333333333, -55.5)):
            Circle(MIRROR1_COPY_2_SKETCH_R)
    extrude(amount=-MIRROR1_COPY_2_DEPTH)
    # Mirror1 copy 2: the draft: its side faces are tilted about the plane it starts from
    mirror1_copy_2_sides = [mirror1_copy_2_tool.faces().sort_by_distance(p)[0] for p in [
        (-74.746333333, 3.175, -55.5),
    ]]
    draft(mirror1_copy_2_sides, Plane.XZ, MIRROR1_COPY_2_DRAFT)


with BuildPart() as part_4:
    add(part_3.part)

    # Mirror1 copy 2: cut by mirror1_copy_2_tool
    add(mirror1_copy_2_tool.part, mode=Mode.SUBTRACT)


with BuildPart() as mirror1_copy_3_tool:
    # Mirror1 copy 3 sketch → Mirror1 copy 3 (with draft: the straight prism first)
    with BuildSketch(Plane.XZ):
        with Locations((-72.333333333, -55.5)):
            Circle(MIRROR1_COPY_3_SKETCH_R)
    extrude(amount=-MIRROR1_COPY_3_DEPTH)
    # Mirror1 copy 3: the draft: its side faces are tilted about the plane it starts from
    mirror1_copy_3_sides = [mirror1_copy_3_tool.faces().sort_by_distance(p)[0] for p in [
        (-74.746333333, 3.175, -55.5),
    ]]
    draft(mirror1_copy_3_sides, Plane.XZ, MIRROR1_COPY_3_DRAFT)


with BuildPart() as part_5:
    add(part_4.part)

    # Mirror1 copy 3: cut by mirror1_copy_3_tool
    add(mirror1_copy_3_tool.part, mode=Mode.SUBTRACT)

    # Fillet1
    fillet1_edges = [part_5.edges().sort_by_distance(p)[0] for p in [
        (-7.461666667, 0, -13.94),
        (-4.261666667, 0, -11.54),
        (-61.061666667, 0, -54.14),
        (-57.861666667, 0, -51.74),
        (-57.861666667, 75, -51.74),
        (-61.061666667, 75, -54.14),
        (-4.261666667, 75, -11.54),
        (-7.461666667, 75, -13.94),
        (13.666666667, 75, -6.675),
        (9.666666667, 75, -6.675),
        (9.666666667, 0, -6.675),
        (13.666666667, 0, -6.675),
        (-66.658333333, 75, -65.333333333),
        (-66.658333333, 75, -69.333333333),
        (-66.658333333, 0, -69.333333333),
        (-66.658333333, 0, -65.333333333),
    ]]
    fillet(fillet1_edges, radius=FILLET1_R)

    # Fillet2
    fillet2_edges = [part_5.edges().sort_by_distance(p)[0] for p in [
        (20.666666667, 75, -0.675),
        (-72.658333333, 0, -76.333333333),
        (20.666666667, 0, -0.675),
        (-80.158333333, 37.5, -76.333333333),
        (-65.158333333, 37.5, -76.333333333),
        (-65.158333333, 37.5, -59.0875),
        (2.725, 37.5, -8.175),
        (20.666666667, 37.5, -8.175),
        (20.666666667, 37.5, 6.825),
        (-72.658333333, 75, -76.333333333),
    ]]
    fillet(fillet2_edges, radius=FILLET2_R)


solid = part_5.part
